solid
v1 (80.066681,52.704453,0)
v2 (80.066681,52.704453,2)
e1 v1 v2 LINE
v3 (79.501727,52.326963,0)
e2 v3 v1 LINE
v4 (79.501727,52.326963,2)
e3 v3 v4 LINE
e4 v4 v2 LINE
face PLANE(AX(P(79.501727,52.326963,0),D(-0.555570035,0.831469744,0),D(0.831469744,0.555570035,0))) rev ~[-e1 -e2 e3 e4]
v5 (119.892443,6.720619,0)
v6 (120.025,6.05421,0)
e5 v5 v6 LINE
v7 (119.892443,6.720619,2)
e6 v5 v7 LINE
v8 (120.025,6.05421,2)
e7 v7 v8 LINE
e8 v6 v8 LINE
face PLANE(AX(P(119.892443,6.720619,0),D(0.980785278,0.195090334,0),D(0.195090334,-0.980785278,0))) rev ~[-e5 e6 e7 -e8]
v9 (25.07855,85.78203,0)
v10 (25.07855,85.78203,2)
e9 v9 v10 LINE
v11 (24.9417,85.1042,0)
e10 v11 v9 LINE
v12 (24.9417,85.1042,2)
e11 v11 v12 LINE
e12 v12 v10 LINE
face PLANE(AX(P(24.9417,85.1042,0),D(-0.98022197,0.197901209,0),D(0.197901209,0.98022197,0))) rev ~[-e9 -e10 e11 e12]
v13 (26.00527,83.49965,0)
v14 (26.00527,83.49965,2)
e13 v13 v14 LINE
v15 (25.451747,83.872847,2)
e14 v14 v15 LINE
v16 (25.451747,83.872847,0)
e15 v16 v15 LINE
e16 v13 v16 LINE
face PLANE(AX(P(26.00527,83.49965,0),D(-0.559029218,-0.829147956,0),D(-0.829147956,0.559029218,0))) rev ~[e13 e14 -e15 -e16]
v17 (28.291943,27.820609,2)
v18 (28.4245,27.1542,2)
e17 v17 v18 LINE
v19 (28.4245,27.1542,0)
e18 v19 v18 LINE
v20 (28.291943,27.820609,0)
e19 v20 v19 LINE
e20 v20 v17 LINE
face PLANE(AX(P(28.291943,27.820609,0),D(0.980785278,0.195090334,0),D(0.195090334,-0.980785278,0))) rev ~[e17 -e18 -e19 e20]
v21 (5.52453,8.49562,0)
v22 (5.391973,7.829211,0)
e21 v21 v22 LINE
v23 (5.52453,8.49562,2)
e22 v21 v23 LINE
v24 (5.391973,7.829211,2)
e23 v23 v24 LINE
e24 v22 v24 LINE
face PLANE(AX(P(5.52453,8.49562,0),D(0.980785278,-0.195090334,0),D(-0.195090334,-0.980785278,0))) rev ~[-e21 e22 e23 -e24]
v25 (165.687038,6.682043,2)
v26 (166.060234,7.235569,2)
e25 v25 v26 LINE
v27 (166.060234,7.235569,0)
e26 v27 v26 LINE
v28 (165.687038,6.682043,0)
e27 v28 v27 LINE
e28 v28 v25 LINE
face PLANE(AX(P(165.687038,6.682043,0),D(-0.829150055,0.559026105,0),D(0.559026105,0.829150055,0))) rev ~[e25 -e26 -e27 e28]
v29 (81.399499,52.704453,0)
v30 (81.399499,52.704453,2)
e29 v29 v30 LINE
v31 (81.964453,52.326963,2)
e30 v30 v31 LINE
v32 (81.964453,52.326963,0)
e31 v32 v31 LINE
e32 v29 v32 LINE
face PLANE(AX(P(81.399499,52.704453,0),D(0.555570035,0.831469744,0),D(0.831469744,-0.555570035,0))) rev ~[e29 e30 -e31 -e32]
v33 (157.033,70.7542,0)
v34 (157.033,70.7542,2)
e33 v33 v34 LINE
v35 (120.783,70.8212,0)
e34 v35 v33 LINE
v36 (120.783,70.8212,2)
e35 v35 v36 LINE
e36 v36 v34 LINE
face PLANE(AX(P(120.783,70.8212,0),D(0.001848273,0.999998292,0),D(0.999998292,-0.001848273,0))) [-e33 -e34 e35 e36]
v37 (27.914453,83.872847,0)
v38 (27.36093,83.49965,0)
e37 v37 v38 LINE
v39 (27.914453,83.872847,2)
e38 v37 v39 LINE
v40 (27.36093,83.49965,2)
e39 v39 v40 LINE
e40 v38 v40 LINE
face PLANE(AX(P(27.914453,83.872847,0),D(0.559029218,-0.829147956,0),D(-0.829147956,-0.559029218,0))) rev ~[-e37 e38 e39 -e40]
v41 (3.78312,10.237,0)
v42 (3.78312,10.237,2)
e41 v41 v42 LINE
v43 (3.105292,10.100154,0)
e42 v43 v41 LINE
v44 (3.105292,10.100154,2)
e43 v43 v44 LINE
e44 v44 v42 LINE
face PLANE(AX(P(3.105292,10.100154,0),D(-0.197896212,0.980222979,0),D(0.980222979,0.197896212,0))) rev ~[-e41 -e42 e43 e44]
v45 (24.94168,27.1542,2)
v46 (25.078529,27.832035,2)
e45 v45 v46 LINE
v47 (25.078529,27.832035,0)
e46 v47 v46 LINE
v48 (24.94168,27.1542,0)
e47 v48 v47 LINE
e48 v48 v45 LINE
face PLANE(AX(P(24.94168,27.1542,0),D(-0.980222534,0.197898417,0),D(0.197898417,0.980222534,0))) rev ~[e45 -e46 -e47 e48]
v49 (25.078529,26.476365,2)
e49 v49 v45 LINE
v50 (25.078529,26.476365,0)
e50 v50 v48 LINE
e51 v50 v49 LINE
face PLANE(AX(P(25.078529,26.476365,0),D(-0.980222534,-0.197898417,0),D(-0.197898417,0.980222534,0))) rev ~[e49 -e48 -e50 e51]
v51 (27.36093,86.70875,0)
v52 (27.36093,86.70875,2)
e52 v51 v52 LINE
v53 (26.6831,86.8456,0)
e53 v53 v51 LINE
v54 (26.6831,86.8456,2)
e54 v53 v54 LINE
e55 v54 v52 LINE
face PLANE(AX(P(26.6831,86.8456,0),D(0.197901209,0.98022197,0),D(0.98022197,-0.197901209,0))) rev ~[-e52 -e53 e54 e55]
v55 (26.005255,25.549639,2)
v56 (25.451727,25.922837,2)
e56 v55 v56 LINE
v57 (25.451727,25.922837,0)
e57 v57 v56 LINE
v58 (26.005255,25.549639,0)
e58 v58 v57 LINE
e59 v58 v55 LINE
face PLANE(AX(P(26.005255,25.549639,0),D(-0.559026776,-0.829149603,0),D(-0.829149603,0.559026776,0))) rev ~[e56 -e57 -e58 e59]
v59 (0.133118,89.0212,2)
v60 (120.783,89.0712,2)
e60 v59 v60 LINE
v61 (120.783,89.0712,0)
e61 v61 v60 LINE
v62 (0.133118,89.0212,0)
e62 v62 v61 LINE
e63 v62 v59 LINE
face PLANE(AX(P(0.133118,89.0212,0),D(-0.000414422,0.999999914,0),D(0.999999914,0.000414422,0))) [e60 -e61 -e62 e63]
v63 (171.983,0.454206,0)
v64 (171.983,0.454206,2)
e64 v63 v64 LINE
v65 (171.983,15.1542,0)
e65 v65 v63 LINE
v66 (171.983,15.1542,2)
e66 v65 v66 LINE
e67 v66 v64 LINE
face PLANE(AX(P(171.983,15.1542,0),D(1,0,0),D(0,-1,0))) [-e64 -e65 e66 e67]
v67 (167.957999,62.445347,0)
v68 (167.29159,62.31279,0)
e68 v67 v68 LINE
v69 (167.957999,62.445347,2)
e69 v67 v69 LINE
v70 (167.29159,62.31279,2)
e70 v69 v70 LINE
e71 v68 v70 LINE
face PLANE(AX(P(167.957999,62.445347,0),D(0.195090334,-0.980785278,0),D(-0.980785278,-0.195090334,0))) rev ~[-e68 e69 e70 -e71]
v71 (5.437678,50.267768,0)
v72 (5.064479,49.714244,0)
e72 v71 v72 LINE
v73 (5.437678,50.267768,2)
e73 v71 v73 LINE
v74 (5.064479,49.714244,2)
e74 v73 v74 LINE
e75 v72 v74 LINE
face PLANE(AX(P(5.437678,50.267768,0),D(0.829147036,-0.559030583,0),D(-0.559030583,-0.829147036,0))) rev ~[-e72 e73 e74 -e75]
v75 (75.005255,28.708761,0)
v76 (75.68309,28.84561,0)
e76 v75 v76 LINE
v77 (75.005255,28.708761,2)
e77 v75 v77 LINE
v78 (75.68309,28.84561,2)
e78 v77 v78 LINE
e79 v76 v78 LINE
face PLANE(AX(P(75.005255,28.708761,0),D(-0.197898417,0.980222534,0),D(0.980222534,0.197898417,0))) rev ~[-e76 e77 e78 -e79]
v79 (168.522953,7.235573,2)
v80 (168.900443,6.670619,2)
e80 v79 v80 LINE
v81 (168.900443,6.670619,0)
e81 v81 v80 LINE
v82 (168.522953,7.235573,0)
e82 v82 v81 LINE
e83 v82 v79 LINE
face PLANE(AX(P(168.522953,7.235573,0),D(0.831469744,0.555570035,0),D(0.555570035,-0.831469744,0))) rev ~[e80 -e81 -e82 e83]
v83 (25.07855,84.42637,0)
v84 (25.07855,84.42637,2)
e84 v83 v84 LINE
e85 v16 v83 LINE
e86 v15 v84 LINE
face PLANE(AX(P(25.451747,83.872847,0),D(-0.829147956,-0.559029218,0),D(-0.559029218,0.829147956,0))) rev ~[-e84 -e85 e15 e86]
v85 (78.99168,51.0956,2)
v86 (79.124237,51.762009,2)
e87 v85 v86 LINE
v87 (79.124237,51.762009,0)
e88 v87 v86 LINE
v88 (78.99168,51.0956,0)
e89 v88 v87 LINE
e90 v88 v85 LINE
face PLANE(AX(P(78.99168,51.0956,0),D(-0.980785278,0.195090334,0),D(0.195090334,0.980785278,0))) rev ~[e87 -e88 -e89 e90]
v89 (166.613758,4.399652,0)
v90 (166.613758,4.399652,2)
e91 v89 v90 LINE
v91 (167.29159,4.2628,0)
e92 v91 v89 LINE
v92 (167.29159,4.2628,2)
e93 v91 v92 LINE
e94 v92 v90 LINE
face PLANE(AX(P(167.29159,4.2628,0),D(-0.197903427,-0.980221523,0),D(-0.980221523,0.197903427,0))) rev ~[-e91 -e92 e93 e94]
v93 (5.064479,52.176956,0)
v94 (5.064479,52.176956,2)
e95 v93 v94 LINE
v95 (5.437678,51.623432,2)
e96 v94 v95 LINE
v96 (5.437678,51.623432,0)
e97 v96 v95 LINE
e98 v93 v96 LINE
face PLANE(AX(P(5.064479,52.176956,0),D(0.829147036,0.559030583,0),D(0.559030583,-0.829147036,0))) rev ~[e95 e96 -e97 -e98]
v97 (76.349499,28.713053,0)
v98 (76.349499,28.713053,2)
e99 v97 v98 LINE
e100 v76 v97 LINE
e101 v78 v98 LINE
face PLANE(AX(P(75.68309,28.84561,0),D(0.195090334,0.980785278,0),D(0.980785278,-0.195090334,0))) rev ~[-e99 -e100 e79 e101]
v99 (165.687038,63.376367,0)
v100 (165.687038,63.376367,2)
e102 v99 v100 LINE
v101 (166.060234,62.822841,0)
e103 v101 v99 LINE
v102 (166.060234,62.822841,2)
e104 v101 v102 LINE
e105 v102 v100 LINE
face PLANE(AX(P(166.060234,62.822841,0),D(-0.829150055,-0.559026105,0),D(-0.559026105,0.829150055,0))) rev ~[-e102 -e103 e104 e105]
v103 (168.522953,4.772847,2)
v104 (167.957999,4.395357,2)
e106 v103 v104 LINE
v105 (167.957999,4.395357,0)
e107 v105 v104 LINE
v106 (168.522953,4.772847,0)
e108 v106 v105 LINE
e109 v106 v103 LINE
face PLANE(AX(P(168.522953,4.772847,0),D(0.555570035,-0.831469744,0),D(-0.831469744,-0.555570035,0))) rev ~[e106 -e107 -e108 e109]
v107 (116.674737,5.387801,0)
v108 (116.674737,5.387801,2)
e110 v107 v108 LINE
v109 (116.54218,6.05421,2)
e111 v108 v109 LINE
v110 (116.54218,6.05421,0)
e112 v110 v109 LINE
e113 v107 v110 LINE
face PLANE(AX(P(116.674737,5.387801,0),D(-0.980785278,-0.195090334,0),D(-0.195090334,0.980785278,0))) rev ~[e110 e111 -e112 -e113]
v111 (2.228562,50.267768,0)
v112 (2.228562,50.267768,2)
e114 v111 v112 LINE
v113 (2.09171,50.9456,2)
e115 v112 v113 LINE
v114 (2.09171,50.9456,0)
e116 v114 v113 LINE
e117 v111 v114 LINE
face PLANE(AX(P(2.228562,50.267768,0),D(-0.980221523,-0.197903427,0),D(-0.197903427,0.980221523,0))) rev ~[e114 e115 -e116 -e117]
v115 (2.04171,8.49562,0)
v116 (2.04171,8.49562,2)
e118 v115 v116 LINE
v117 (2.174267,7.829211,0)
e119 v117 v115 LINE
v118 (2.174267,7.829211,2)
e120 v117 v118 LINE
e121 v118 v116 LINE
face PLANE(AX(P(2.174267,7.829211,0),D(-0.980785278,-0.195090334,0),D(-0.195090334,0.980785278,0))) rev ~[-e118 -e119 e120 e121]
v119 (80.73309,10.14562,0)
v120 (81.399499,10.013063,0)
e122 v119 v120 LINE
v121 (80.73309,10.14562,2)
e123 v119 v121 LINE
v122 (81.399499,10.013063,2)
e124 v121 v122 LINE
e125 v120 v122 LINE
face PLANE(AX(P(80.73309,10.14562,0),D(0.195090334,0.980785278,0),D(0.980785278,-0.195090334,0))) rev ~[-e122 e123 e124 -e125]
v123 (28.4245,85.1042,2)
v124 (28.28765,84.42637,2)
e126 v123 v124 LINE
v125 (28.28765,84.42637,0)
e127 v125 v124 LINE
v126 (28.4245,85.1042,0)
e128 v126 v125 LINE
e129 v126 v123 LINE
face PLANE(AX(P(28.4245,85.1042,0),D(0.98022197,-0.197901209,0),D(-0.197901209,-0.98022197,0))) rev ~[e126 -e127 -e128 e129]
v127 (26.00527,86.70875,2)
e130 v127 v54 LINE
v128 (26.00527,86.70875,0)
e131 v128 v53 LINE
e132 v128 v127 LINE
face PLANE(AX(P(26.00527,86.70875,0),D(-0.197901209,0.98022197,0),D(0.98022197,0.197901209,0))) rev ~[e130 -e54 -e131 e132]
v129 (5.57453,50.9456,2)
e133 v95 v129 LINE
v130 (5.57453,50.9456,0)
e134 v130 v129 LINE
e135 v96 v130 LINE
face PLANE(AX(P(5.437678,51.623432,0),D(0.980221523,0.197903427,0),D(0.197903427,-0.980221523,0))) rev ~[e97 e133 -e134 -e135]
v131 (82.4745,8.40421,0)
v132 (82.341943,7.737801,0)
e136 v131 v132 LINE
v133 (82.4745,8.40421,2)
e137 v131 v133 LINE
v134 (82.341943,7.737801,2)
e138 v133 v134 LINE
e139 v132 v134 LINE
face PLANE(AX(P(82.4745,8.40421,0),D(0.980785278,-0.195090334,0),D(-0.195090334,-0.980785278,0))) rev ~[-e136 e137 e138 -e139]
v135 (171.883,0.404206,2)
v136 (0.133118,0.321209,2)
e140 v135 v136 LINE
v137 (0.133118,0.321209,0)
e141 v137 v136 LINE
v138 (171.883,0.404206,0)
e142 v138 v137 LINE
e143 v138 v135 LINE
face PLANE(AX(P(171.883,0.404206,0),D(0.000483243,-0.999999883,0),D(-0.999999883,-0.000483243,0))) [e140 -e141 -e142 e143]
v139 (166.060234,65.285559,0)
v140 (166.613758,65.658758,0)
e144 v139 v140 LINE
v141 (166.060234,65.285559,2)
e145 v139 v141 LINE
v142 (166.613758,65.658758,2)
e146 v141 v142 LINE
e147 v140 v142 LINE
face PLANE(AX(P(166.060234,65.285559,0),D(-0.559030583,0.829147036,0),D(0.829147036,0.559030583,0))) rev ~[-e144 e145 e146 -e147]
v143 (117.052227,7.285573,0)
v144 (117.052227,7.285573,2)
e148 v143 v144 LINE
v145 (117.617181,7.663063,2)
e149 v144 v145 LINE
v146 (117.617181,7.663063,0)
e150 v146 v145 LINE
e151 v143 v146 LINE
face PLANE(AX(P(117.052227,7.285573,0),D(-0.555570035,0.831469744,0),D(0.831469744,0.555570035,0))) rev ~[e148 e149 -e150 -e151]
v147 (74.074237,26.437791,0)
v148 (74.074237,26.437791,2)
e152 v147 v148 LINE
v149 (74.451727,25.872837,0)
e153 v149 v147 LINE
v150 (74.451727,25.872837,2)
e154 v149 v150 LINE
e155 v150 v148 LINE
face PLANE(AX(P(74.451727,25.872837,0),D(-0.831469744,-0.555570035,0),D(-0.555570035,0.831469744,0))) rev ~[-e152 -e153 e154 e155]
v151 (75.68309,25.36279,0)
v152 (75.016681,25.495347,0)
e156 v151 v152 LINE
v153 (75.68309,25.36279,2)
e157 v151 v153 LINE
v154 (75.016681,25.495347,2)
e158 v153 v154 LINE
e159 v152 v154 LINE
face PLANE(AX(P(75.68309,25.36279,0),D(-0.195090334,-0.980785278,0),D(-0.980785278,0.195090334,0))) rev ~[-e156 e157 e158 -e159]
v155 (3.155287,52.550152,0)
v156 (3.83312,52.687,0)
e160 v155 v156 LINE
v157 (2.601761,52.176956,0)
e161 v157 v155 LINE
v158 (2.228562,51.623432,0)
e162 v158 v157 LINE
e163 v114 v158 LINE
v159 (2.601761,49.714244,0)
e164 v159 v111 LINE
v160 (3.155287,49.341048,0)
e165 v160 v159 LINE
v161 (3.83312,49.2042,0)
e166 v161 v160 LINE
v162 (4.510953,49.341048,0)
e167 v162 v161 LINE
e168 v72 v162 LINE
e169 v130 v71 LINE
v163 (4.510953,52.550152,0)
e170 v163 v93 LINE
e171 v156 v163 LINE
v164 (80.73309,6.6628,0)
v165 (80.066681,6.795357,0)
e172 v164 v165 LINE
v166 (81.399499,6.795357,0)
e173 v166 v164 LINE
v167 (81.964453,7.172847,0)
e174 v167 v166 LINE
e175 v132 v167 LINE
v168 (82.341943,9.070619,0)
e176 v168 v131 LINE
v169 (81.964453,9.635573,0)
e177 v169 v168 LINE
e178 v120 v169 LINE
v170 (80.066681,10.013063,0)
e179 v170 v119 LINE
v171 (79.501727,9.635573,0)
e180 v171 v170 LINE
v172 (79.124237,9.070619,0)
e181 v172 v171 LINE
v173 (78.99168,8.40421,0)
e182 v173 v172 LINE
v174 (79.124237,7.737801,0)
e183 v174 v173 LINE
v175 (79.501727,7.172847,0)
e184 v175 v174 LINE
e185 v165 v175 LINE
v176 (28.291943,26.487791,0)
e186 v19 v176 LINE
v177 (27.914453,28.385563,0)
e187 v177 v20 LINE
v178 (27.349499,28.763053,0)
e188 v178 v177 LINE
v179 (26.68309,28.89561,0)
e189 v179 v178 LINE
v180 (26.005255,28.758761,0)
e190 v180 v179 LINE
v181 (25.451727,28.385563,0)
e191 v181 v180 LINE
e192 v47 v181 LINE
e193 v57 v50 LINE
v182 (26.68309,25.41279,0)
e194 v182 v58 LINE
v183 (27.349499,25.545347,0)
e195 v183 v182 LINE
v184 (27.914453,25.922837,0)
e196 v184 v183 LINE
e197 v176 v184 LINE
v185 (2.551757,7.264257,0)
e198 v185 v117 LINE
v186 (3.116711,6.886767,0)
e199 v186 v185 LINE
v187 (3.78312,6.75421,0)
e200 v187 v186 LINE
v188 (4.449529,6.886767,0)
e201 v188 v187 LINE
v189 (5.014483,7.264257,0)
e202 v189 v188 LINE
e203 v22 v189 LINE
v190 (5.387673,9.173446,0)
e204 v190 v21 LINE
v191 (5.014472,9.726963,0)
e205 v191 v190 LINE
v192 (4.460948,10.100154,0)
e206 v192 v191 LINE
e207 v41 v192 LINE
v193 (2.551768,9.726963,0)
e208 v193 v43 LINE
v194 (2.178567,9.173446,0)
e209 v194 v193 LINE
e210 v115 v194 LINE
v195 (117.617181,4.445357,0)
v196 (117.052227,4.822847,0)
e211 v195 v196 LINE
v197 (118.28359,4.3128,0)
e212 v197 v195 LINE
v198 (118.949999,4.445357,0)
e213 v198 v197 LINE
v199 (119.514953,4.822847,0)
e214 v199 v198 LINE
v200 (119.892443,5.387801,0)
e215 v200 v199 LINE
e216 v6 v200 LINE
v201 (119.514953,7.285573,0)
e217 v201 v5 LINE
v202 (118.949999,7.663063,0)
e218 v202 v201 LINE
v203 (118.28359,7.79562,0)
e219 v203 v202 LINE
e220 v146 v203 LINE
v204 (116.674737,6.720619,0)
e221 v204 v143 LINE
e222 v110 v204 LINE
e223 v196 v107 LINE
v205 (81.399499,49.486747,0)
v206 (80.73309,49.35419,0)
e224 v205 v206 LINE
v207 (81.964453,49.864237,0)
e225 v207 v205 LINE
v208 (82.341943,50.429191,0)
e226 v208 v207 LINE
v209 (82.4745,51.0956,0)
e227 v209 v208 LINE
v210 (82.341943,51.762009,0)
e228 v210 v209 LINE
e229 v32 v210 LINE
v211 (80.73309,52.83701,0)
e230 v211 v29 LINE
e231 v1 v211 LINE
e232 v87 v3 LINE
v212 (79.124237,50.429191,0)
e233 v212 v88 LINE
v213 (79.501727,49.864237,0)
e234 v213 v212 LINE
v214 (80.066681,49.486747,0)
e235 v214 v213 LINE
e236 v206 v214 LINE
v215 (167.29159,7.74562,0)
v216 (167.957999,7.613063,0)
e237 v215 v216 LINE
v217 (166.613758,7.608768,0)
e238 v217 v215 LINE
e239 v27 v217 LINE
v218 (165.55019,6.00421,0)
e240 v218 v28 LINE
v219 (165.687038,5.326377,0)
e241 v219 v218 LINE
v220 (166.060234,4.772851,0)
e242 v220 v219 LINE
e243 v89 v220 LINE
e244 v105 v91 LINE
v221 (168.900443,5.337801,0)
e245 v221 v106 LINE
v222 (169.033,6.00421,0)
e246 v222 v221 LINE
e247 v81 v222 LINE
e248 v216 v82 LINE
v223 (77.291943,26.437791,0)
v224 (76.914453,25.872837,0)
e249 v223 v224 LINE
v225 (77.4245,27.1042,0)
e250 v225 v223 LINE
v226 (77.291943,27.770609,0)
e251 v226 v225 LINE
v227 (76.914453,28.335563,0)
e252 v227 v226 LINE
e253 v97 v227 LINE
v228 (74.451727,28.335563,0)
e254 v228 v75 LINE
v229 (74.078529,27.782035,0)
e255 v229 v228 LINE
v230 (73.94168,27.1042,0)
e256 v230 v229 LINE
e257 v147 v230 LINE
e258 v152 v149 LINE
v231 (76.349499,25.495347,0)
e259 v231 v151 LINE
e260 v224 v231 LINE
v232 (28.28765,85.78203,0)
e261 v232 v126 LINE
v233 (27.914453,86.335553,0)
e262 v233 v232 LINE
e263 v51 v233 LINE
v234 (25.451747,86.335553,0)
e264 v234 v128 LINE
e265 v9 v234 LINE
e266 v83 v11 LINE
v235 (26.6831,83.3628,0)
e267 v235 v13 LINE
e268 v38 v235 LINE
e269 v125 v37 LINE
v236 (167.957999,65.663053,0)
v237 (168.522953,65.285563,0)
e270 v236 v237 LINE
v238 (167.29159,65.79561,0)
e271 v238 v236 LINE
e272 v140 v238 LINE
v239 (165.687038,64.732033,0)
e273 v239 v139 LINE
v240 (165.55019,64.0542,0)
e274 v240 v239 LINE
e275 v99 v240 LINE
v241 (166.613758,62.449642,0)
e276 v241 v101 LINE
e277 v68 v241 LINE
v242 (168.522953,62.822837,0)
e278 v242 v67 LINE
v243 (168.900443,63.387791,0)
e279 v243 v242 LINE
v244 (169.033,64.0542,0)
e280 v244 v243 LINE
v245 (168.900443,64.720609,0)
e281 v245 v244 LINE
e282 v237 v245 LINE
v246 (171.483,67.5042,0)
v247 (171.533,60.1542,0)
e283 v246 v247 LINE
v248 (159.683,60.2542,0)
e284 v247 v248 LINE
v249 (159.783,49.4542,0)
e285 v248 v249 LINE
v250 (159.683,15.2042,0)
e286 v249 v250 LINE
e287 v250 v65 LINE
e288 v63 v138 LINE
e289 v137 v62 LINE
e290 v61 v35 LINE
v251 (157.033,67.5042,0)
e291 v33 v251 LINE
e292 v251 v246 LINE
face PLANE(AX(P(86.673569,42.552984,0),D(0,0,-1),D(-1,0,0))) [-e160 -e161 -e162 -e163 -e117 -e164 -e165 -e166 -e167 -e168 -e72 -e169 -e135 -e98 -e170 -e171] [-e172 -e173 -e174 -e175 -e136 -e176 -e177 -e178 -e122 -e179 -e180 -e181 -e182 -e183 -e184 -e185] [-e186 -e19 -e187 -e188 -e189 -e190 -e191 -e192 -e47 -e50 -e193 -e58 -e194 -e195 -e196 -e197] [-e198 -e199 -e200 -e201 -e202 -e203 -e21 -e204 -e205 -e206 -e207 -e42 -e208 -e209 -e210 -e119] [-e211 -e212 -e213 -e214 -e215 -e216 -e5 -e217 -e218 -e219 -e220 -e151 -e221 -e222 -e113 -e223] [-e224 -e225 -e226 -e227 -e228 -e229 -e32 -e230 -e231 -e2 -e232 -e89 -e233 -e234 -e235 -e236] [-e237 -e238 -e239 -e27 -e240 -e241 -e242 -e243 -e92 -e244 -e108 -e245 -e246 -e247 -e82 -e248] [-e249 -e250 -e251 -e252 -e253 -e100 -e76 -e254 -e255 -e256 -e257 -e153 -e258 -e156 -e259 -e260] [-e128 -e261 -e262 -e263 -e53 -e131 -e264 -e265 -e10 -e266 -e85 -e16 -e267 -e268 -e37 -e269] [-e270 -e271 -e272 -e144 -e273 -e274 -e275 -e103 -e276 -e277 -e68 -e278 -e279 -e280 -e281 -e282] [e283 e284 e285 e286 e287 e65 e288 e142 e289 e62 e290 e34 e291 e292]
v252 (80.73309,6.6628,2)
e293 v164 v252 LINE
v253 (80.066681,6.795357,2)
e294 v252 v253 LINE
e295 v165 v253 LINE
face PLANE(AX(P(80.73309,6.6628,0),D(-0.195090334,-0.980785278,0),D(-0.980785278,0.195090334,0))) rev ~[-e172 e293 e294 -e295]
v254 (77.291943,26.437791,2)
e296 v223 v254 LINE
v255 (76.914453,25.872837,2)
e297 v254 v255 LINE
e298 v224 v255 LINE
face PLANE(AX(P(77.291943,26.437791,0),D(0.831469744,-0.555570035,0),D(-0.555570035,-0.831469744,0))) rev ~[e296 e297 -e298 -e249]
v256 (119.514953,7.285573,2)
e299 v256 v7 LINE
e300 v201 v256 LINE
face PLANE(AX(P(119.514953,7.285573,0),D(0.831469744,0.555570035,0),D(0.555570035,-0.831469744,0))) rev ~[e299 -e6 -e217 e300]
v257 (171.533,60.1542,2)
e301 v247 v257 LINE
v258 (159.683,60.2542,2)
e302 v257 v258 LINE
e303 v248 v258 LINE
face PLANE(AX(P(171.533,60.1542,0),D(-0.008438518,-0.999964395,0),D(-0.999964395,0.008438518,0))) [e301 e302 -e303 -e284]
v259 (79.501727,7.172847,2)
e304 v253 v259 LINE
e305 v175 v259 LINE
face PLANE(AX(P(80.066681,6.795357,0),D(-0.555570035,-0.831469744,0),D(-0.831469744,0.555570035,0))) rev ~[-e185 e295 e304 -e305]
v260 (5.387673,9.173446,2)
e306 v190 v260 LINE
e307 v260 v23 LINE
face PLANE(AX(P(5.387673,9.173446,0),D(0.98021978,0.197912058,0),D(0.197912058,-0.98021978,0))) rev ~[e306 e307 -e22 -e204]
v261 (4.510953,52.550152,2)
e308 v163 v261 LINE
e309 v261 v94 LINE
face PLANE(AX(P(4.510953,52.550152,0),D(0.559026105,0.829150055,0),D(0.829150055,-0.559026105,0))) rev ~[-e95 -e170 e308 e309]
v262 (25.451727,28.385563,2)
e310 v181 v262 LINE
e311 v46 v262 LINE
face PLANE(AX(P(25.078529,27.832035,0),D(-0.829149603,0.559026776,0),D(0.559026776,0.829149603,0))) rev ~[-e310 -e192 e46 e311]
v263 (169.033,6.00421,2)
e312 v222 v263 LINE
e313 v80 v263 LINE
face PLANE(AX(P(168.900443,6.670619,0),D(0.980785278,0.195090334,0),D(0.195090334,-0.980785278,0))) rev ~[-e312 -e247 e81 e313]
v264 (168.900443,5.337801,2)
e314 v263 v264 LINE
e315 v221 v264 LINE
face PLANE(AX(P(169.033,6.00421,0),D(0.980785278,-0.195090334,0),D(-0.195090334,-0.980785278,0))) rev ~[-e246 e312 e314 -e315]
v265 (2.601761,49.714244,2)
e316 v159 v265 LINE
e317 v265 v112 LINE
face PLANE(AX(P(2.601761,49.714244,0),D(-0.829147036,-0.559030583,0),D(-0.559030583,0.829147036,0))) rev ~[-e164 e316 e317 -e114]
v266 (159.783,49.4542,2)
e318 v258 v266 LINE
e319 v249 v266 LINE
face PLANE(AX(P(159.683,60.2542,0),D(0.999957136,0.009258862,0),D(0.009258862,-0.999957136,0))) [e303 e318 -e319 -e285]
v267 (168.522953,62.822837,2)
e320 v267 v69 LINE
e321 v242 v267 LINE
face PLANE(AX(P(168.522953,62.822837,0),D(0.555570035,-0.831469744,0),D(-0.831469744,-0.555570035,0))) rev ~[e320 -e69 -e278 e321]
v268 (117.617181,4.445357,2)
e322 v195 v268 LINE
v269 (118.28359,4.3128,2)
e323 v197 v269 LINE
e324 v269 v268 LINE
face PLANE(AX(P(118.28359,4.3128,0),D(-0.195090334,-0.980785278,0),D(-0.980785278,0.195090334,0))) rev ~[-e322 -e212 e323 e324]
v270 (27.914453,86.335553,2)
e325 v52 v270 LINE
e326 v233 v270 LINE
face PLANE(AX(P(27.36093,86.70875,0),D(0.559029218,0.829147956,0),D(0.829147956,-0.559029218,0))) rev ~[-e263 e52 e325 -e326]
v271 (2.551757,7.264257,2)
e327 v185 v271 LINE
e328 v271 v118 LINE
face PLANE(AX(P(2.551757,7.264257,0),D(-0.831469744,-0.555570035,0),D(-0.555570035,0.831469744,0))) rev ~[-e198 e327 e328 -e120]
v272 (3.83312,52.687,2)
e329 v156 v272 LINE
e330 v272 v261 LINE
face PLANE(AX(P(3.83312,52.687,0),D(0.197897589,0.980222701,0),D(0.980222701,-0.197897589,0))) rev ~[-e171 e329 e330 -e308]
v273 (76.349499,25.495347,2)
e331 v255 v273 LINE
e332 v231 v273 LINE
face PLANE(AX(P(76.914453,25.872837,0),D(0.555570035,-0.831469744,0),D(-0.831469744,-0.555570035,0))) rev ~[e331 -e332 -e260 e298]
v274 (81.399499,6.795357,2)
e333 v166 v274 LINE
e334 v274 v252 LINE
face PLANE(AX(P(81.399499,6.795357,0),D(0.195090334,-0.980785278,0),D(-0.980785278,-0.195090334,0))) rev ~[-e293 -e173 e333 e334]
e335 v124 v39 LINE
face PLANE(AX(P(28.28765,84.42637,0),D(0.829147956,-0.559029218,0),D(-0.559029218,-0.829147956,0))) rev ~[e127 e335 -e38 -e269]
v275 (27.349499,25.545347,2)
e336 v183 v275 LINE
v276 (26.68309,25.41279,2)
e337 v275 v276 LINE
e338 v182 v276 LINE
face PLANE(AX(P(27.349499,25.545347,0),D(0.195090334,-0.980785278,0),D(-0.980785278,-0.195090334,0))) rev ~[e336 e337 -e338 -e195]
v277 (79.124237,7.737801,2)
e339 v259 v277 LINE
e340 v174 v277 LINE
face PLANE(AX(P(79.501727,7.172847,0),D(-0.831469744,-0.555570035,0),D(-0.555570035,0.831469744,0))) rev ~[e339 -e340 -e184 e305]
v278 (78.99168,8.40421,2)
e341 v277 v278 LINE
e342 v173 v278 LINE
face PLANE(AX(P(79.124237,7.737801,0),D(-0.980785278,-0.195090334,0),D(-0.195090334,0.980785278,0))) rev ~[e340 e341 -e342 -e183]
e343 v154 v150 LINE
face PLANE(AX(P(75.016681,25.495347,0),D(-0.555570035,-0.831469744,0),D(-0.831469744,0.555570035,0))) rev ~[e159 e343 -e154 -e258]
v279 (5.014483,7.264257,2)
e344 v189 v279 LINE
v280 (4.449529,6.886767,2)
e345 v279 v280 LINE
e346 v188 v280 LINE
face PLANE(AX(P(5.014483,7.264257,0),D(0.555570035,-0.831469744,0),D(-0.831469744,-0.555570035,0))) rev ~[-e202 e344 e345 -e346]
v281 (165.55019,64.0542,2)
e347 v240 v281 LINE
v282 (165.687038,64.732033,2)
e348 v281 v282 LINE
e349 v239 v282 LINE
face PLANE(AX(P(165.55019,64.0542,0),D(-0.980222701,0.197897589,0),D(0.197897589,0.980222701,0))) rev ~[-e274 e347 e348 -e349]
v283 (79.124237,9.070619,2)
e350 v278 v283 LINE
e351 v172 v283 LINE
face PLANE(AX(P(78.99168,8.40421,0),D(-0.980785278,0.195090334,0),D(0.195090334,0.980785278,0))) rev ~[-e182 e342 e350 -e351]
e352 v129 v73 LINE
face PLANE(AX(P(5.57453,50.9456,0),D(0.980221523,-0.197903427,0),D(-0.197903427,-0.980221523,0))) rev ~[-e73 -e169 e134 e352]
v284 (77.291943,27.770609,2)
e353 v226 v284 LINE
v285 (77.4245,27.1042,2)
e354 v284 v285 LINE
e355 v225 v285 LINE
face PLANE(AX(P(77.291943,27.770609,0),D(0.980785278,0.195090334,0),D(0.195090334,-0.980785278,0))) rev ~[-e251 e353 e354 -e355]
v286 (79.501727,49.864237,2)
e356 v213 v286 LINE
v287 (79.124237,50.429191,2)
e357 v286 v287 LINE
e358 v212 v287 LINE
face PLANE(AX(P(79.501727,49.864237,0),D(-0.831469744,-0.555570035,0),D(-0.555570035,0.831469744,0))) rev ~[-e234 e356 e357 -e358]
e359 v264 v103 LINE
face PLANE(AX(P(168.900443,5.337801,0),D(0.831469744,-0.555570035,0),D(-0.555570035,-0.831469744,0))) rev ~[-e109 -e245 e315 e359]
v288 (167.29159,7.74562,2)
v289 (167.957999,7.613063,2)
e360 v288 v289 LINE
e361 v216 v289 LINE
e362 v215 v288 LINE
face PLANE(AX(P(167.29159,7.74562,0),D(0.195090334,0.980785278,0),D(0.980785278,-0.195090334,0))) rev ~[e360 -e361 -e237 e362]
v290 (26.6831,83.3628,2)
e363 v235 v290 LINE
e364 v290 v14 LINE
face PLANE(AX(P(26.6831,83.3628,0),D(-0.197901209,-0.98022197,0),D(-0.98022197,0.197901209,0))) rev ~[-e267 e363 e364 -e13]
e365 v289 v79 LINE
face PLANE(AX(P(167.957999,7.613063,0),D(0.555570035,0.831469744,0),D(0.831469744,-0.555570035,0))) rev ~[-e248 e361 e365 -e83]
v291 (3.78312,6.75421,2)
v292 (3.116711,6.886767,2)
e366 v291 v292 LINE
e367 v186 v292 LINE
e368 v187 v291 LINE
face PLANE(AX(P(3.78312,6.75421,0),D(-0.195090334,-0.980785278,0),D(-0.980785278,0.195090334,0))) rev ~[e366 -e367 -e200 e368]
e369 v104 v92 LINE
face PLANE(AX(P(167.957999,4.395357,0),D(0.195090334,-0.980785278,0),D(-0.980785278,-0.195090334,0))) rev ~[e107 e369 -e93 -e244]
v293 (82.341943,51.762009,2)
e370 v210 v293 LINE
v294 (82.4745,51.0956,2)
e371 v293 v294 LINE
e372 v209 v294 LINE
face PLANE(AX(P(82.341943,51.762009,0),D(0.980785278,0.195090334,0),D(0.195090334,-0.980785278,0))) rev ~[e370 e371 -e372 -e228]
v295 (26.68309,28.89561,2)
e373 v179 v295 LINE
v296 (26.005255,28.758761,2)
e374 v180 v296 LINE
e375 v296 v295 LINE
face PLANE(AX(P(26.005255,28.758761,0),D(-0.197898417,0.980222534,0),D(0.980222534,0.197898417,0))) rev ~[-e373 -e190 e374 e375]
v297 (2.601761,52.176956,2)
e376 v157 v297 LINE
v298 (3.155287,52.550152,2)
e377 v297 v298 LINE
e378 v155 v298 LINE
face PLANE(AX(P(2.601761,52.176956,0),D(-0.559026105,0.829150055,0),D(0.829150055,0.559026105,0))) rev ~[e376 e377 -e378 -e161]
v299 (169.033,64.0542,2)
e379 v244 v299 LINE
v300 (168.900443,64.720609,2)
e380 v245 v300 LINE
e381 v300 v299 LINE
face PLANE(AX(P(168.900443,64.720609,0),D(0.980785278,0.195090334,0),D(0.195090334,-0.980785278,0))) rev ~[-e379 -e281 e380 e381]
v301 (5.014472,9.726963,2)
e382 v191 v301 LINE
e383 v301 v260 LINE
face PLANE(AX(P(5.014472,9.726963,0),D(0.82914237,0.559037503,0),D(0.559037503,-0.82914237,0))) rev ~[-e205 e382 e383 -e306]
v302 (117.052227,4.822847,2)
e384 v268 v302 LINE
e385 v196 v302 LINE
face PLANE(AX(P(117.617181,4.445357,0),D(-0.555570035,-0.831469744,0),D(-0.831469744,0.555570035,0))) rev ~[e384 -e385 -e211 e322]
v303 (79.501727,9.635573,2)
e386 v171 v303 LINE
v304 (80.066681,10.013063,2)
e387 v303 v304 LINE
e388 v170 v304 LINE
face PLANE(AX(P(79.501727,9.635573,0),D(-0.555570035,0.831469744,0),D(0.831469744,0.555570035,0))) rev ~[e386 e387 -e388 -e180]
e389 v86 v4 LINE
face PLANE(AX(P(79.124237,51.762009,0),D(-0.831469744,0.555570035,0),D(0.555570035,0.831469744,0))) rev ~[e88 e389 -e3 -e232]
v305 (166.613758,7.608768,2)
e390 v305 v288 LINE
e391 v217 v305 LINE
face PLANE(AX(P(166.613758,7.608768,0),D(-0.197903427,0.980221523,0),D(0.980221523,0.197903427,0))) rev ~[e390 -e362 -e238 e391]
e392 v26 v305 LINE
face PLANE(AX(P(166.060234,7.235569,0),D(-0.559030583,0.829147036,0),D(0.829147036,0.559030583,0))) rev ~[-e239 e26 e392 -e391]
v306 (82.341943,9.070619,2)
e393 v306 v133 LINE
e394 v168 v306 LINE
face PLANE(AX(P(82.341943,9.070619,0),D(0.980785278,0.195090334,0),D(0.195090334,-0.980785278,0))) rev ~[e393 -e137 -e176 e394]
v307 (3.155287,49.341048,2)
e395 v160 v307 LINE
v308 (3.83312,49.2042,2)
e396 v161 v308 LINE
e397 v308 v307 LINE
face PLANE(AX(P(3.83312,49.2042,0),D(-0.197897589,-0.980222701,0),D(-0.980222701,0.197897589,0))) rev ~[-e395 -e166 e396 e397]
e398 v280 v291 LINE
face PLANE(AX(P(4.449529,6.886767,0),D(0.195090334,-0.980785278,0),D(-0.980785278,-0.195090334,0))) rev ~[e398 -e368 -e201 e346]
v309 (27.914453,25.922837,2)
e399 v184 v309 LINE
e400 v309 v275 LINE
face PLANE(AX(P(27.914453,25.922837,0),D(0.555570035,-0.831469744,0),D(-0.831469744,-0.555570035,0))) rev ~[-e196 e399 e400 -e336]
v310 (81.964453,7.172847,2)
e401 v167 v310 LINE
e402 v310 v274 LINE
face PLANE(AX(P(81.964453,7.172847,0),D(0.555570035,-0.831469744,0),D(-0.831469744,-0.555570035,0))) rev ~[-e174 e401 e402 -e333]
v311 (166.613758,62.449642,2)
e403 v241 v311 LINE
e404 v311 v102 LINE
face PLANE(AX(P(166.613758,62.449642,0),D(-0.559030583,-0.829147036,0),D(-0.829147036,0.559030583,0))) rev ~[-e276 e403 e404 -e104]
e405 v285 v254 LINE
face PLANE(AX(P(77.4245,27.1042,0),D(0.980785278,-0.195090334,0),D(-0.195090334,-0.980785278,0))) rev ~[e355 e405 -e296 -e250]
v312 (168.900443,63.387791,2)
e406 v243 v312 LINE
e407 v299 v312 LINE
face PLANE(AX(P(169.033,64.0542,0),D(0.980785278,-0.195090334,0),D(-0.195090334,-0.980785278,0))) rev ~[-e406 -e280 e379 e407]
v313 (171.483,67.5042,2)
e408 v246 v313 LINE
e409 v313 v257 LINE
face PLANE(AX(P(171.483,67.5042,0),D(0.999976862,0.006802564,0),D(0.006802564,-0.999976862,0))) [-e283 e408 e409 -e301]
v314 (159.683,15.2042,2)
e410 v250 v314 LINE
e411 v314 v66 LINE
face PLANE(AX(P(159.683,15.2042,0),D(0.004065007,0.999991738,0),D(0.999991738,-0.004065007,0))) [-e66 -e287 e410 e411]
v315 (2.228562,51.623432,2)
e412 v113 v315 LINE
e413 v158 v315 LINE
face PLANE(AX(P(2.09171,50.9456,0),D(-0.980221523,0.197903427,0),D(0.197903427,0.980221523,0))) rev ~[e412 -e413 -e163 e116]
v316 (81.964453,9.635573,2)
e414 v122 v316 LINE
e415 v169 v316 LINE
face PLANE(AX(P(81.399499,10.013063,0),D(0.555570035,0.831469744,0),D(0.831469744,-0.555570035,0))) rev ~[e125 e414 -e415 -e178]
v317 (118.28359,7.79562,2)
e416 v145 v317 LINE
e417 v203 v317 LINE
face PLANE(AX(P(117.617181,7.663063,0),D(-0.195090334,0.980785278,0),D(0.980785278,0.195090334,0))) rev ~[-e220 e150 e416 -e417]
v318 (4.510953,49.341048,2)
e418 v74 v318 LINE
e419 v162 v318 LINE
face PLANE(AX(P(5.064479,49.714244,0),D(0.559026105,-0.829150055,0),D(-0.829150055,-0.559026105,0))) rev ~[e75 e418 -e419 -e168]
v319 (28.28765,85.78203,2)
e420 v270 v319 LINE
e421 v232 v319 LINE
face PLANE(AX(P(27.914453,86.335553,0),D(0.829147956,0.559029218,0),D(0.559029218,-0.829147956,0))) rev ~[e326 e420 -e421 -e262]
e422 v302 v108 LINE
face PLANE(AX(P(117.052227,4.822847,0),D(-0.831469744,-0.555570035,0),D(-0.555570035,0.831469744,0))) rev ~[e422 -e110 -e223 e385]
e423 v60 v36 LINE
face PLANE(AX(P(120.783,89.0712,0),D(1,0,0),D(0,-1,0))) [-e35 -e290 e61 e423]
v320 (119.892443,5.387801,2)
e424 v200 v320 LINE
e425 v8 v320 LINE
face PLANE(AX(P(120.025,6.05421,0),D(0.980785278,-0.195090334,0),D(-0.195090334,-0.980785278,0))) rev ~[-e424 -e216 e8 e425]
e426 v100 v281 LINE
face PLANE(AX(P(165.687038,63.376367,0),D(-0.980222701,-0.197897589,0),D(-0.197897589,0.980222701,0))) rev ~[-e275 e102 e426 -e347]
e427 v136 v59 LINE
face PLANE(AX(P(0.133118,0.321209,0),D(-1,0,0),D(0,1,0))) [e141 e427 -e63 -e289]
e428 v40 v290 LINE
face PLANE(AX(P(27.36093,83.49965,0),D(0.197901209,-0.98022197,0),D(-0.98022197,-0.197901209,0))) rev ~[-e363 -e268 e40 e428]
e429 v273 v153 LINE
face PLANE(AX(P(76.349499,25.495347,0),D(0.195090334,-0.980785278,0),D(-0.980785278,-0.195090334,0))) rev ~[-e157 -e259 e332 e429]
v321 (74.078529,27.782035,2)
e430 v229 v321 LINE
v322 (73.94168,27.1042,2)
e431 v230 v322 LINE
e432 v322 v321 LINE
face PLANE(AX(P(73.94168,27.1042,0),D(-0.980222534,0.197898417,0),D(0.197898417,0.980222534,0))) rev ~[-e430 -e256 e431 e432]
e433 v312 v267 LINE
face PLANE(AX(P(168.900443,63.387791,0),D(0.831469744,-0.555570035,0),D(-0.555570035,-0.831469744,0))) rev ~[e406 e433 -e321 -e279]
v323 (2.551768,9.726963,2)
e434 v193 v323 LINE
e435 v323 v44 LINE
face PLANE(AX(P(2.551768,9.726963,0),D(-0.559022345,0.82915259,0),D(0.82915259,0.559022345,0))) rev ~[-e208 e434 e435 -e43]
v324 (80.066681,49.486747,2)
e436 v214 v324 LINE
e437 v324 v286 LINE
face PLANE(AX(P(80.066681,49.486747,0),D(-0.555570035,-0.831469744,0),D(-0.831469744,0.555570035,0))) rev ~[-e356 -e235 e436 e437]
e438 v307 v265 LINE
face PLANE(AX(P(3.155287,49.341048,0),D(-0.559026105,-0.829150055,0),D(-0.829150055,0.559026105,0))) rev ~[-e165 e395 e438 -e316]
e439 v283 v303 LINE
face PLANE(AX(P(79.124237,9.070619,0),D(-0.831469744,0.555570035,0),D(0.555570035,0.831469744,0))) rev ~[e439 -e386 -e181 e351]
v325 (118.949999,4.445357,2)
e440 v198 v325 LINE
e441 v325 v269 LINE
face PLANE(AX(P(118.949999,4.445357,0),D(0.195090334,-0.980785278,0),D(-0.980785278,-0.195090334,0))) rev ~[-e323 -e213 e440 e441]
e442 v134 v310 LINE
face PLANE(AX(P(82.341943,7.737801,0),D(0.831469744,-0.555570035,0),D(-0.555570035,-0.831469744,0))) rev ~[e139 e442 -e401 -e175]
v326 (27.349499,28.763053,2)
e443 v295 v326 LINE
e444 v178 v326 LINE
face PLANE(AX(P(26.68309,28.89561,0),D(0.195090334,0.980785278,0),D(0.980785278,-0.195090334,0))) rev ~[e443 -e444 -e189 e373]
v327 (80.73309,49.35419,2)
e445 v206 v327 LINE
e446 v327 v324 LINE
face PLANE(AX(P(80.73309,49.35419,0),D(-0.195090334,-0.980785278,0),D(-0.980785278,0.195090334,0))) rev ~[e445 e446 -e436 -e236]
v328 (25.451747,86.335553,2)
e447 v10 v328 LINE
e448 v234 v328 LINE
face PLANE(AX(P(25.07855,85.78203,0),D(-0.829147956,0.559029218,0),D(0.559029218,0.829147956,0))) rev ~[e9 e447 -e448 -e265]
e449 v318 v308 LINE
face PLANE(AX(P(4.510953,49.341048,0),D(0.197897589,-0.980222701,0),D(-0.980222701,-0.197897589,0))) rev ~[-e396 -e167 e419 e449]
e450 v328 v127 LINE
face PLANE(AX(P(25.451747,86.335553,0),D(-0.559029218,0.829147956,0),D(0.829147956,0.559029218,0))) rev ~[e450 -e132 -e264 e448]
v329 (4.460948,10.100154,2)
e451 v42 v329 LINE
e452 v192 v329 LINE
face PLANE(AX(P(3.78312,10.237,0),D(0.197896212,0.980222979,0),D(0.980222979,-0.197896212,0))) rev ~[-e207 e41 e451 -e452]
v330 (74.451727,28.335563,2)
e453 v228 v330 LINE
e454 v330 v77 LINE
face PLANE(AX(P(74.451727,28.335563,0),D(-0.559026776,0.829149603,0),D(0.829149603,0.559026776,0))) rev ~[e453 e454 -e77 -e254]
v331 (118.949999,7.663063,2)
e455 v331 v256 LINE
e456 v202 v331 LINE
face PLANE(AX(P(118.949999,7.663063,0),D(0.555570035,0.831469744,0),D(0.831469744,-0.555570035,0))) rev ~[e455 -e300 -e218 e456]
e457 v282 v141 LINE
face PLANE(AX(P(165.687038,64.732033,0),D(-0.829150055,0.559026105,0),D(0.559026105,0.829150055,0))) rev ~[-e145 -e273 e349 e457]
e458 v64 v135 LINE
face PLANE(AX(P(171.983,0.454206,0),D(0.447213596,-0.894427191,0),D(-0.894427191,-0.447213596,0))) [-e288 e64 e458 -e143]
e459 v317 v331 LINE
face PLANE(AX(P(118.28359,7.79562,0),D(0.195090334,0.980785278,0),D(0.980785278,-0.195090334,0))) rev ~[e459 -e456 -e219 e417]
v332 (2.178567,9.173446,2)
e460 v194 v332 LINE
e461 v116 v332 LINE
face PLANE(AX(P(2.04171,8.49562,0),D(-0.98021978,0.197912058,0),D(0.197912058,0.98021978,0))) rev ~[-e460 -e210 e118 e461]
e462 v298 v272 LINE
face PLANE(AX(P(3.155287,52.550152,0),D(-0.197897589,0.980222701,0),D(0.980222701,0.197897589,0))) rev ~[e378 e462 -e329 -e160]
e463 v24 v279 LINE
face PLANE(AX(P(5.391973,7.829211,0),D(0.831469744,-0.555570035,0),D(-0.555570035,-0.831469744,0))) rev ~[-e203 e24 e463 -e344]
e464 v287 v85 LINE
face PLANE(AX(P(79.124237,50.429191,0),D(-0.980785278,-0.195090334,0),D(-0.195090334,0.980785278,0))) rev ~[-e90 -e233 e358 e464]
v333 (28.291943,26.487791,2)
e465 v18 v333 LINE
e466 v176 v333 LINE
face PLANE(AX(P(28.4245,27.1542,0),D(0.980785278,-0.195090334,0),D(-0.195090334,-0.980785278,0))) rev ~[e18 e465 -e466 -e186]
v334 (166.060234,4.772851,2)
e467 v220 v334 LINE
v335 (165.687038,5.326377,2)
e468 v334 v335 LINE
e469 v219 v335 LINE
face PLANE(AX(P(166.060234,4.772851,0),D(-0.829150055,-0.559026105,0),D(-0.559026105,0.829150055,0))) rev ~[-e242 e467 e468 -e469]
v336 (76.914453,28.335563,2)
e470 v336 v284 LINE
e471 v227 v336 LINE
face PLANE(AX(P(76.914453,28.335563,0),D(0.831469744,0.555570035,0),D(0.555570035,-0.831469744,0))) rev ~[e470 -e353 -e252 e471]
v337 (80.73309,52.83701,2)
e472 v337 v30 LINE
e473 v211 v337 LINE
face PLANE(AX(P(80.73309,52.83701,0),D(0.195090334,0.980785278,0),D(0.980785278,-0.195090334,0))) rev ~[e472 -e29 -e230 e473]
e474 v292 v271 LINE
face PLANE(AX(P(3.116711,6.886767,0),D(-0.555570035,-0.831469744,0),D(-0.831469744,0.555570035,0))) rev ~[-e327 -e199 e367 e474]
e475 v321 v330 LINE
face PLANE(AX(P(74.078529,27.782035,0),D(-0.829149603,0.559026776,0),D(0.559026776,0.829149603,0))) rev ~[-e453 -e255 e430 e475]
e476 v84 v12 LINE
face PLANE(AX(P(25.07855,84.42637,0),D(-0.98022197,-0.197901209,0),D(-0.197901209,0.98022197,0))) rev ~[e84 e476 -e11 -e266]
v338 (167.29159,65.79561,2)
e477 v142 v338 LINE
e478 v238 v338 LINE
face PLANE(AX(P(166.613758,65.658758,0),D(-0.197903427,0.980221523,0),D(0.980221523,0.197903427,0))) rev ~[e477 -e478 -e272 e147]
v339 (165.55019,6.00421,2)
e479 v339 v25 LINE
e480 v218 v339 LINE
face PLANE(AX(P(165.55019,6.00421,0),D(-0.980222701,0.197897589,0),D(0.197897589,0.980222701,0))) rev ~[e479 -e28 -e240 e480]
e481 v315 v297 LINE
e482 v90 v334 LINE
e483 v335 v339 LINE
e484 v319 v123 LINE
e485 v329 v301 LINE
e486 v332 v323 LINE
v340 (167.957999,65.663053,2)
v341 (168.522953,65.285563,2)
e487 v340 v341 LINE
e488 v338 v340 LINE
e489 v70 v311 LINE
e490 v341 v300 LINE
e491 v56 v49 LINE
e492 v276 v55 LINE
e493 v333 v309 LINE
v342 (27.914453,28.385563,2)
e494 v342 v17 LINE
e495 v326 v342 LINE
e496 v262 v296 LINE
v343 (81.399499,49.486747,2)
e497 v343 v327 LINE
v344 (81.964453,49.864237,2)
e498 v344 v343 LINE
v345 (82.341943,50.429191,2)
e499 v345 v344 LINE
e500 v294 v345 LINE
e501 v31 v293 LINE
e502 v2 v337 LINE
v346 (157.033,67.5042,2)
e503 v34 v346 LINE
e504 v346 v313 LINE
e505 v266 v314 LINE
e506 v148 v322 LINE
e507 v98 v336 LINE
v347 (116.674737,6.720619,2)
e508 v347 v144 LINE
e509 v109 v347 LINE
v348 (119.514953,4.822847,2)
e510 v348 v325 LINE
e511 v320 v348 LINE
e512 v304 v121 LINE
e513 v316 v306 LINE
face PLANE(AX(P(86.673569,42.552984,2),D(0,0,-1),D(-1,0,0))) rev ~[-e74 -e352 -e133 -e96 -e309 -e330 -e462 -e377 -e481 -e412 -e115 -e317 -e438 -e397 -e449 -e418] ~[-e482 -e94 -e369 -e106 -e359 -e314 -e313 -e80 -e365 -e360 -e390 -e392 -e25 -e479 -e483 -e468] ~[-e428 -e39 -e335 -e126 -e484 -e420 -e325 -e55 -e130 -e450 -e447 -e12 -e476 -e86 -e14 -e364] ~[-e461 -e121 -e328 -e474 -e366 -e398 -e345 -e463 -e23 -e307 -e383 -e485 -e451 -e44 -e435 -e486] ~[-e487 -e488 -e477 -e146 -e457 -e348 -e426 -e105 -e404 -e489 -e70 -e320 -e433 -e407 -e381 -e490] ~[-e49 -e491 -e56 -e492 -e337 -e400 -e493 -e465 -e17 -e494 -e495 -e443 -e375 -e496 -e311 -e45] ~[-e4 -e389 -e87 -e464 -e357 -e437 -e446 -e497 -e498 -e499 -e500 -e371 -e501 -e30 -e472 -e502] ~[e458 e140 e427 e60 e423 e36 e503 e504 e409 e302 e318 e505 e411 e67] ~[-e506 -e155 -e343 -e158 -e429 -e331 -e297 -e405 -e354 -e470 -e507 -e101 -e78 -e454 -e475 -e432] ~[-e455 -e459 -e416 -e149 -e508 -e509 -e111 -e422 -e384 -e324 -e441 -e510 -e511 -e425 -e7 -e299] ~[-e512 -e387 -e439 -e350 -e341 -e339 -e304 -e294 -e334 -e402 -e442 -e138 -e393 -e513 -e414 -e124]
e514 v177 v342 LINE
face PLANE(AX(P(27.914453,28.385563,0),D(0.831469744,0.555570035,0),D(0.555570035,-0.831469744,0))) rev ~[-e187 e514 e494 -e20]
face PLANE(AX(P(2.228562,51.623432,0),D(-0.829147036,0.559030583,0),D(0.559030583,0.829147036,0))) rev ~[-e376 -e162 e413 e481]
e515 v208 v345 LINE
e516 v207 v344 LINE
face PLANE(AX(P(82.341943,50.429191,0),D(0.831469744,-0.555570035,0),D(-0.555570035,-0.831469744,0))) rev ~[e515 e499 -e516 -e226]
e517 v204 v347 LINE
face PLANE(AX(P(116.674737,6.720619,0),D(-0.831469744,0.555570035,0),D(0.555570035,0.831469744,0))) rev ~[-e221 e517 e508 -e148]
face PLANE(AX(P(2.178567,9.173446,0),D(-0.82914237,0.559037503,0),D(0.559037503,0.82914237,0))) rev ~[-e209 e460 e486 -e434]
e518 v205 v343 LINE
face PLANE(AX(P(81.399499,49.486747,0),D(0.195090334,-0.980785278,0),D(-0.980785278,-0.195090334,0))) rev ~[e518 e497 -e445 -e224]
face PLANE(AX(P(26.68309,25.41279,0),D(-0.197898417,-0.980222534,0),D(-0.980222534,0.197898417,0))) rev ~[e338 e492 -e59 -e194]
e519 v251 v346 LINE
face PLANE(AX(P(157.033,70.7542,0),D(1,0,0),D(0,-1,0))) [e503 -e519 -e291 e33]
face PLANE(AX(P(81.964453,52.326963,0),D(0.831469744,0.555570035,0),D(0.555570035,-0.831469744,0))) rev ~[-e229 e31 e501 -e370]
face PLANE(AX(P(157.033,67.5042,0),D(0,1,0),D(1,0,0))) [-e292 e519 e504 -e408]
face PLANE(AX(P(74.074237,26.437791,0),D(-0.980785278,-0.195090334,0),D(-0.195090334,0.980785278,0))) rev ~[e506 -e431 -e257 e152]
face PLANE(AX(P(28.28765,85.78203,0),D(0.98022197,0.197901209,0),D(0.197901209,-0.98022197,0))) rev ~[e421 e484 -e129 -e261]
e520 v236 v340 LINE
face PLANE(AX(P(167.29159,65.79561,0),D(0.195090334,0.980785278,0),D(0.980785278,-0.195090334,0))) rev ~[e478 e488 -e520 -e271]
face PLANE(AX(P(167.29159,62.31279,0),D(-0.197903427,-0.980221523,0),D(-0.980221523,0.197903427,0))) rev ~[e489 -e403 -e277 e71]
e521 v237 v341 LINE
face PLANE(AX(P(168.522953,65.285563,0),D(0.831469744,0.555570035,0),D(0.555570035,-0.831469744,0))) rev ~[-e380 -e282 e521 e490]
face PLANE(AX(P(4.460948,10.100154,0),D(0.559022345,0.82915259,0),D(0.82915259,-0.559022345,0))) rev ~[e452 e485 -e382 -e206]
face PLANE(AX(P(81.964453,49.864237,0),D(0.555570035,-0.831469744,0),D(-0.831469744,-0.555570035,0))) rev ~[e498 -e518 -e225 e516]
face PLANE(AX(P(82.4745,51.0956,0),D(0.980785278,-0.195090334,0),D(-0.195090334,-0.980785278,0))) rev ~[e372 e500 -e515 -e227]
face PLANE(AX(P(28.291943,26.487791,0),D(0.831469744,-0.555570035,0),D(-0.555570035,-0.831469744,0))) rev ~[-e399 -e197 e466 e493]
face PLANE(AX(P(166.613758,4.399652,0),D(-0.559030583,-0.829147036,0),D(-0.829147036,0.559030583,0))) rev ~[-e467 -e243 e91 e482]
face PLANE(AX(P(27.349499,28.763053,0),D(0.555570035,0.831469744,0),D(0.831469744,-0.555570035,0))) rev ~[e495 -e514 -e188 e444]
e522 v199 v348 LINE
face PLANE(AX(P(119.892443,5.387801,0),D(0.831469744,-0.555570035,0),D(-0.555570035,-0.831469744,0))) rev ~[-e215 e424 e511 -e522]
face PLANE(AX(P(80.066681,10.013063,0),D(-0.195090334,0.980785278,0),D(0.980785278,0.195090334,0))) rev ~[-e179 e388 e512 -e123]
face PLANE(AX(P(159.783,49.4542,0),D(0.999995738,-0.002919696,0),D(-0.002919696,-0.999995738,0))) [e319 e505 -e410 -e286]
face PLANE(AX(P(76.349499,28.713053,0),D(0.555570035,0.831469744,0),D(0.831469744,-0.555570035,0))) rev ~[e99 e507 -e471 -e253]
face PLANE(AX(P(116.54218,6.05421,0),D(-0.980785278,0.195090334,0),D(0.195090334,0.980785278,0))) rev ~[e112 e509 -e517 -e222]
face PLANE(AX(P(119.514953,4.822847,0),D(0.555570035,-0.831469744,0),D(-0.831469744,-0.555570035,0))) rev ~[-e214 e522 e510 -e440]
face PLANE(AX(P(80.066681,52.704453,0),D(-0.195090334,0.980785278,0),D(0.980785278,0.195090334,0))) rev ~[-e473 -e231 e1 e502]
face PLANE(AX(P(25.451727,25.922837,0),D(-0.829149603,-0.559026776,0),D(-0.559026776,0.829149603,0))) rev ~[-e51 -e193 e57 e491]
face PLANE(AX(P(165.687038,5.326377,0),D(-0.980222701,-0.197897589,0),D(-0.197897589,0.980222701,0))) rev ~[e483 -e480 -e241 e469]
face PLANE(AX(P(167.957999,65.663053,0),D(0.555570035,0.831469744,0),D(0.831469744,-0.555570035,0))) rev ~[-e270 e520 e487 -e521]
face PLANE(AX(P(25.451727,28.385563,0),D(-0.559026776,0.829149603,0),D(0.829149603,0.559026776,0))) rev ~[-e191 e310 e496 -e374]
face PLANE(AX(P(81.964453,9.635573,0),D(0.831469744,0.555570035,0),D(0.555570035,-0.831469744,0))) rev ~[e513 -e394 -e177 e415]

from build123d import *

# Parameters (mm, degrees)
PAD_DEPTH = 2


with BuildPart() as part:
    # Sketch → Pad (new body)
    with BuildSketch(Plane.XY):
        Polygon((157.033, 67.5042), (171.483, 67.5042), (171.533, 60.1542), (159.683, 60.2542), (159.783, 49.4542), (159.683, 15.2042), (171.983, 15.1542), (171.983, 0.454206), (171.883, 0.404206), (0.133118, 0.321209), (0.133118, 89.0212), (120.783, 89.0712), (120.783, 70.8212), (157.033, 70.7542), align=None)
        Polygon((77.4245, 27.1042), (77.291943, 26.437791), (76.914453, 25.872837), (76.349499, 25.495347), (75.68309, 25.36279), (75.016681, 25.495347), (74.451727, 25.872837), (74.074237, 26.437791), (73.94168, 27.1042), (74.078529, 27.782035), (74.451727, 28.335563), (75.005255, 28.708761), (75.68309, 28.84561), (76.349499, 28.713053), (76.914453, 28.335563), (77.291943, 27.770609), align=None, mode=Mode.SUBTRACT)
        Polygon((82.4745, 8.40421), (82.341943, 7.737801), (81.964453, 7.172847), (81.399499, 6.795357), (80.73309, 6.6628), (80.066681, 6.795357), (79.501727, 7.172847), (79.124237, 7.737801), (78.99168, 8.40421), (79.124237, 9.070619), (79.501727, 9.635573), (80.066681, 10.013063), (80.73309, 10.14562), (81.399499, 10.013063), (81.964453, 9.635573), (82.341943, 9.070619), align=None, mode=Mode.SUBTRACT)
        Polygon((28.4245, 27.1542), (28.291943, 26.487791), (27.914453, 25.922837), (27.349499, 25.545347), (26.68309, 25.41279), (26.005255, 25.549639), (25.451727, 25.922837), (25.078529, 26.476365), (24.94168, 27.1542), (25.078529, 27.832035), (25.451727, 28.385563), (26.005255, 28.758761), (26.68309, 28.89561), (27.349499, 28.763053), (27.914453, 28.385563), (28.291943, 27.820609), align=None, mode=Mode.SUBTRACT)
        Polygon((120.025, 6.05421), (119.892443, 5.387801), (119.514953, 4.822847), (118.949999, 4.445357), (118.28359, 4.3128), (117.617181, 4.445357), (117.052227, 4.822847), (116.674737, 5.387801), (116.54218, 6.05421), (116.674737, 6.720619), (117.052227, 7.285573), (117.617181, 7.663063), (118.28359, 7.79562), (118.949999, 7.663063), (119.514953, 7.285573), (119.892443, 6.720619), align=None, mode=Mode.SUBTRACT)
        Polygon((169.033, 6.00421), (168.900443, 5.337801), (168.522953, 4.772847), (167.957999, 4.395357), (167.29159, 4.2628), (166.613758, 4.399652), (166.060234, 4.772851), (165.687038, 5.326377), (165.55019, 6.00421), (165.687038, 6.682043), (166.060234, 7.235569), (166.613758, 7.608768), (167.29159, 7.74562), (167.957999, 7.613063), (168.522953, 7.235573), (168.900443, 6.670619), align=None, mode=Mode.SUBTRACT)
        Polygon((82.4745, 51.0956), (82.341943, 50.429191), (81.964453, 49.864237), (81.399499, 49.486747), (80.73309, 49.35419), (80.066681, 49.486747), (79.501727, 49.864237), (79.124237, 50.429191), (78.99168, 51.0956), (79.124237, 51.762009), (79.501727, 52.326963), (80.066681, 52.704453), (80.73309, 52.83701), (81.399499, 52.704453), (81.964453, 52.326963), (82.341943, 51.762009), align=None, mode=Mode.SUBTRACT)
        Polygon((169.033, 64.0542), (168.900443, 63.387791), (168.522953, 62.822837), (167.957999, 62.445347), (167.29159, 62.31279), (166.613758, 62.449642), (166.060234, 62.822841), (165.687038, 63.376367), (165.55019, 64.0542), (165.687038, 64.732033), (166.060234, 65.285559), (166.613758, 65.658758), (167.29159, 65.79561), (167.957999, 65.663053), (168.522953, 65.285563), (168.900443, 64.720609), align=None, mode=Mode.SUBTRACT)
        Polygon((28.4245, 85.1042), (28.28765, 84.42637), (27.914453, 83.872847), (27.36093, 83.49965), (26.6831, 83.3628), (26.00527, 83.49965), (25.451747, 83.872847), (25.07855, 84.42637), (24.9417, 85.1042), (25.07855, 85.78203), (25.451747, 86.335553), (26.00527, 86.70875), (26.6831, 86.8456), (27.36093, 86.70875), (27.914453, 86.335553), (28.28765, 85.78203), align=None, mode=Mode.SUBTRACT)
        Polygon((5.57453, 50.9456), (5.437678, 50.267768), (5.064479, 49.714244), (4.510953, 49.341048), (3.83312, 49.2042), (3.155287, 49.341048), (2.601761, 49.714244), (2.228562, 50.267768), (2.09171, 50.9456), (2.228562, 51.623432), (2.601761, 52.176956), (3.155287, 52.550152), (3.83312, 52.687), (4.510953, 52.550152), (5.064479, 52.176956), (5.437678, 51.623432), align=None, mode=Mode.SUBTRACT)
        Polygon((5.52453, 8.49562), (5.391973, 7.829211), (5.014483, 7.264257), (4.449529, 6.886767), (3.78312, 6.75421), (3.116711, 6.886767), (2.551757, 7.264257), (2.174267, 7.829211), (2.04171, 8.49562), (2.178567, 9.173446), (2.551768, 9.726963), (3.105292, 10.100154), (3.78312, 10.237), (4.460948, 10.100154), (5.014472, 9.726963), (5.387673, 9.173446), align=None, mode=Mode.SUBTRACT)
    extrude(amount=PAD_DEPTH)


solid = part.part
